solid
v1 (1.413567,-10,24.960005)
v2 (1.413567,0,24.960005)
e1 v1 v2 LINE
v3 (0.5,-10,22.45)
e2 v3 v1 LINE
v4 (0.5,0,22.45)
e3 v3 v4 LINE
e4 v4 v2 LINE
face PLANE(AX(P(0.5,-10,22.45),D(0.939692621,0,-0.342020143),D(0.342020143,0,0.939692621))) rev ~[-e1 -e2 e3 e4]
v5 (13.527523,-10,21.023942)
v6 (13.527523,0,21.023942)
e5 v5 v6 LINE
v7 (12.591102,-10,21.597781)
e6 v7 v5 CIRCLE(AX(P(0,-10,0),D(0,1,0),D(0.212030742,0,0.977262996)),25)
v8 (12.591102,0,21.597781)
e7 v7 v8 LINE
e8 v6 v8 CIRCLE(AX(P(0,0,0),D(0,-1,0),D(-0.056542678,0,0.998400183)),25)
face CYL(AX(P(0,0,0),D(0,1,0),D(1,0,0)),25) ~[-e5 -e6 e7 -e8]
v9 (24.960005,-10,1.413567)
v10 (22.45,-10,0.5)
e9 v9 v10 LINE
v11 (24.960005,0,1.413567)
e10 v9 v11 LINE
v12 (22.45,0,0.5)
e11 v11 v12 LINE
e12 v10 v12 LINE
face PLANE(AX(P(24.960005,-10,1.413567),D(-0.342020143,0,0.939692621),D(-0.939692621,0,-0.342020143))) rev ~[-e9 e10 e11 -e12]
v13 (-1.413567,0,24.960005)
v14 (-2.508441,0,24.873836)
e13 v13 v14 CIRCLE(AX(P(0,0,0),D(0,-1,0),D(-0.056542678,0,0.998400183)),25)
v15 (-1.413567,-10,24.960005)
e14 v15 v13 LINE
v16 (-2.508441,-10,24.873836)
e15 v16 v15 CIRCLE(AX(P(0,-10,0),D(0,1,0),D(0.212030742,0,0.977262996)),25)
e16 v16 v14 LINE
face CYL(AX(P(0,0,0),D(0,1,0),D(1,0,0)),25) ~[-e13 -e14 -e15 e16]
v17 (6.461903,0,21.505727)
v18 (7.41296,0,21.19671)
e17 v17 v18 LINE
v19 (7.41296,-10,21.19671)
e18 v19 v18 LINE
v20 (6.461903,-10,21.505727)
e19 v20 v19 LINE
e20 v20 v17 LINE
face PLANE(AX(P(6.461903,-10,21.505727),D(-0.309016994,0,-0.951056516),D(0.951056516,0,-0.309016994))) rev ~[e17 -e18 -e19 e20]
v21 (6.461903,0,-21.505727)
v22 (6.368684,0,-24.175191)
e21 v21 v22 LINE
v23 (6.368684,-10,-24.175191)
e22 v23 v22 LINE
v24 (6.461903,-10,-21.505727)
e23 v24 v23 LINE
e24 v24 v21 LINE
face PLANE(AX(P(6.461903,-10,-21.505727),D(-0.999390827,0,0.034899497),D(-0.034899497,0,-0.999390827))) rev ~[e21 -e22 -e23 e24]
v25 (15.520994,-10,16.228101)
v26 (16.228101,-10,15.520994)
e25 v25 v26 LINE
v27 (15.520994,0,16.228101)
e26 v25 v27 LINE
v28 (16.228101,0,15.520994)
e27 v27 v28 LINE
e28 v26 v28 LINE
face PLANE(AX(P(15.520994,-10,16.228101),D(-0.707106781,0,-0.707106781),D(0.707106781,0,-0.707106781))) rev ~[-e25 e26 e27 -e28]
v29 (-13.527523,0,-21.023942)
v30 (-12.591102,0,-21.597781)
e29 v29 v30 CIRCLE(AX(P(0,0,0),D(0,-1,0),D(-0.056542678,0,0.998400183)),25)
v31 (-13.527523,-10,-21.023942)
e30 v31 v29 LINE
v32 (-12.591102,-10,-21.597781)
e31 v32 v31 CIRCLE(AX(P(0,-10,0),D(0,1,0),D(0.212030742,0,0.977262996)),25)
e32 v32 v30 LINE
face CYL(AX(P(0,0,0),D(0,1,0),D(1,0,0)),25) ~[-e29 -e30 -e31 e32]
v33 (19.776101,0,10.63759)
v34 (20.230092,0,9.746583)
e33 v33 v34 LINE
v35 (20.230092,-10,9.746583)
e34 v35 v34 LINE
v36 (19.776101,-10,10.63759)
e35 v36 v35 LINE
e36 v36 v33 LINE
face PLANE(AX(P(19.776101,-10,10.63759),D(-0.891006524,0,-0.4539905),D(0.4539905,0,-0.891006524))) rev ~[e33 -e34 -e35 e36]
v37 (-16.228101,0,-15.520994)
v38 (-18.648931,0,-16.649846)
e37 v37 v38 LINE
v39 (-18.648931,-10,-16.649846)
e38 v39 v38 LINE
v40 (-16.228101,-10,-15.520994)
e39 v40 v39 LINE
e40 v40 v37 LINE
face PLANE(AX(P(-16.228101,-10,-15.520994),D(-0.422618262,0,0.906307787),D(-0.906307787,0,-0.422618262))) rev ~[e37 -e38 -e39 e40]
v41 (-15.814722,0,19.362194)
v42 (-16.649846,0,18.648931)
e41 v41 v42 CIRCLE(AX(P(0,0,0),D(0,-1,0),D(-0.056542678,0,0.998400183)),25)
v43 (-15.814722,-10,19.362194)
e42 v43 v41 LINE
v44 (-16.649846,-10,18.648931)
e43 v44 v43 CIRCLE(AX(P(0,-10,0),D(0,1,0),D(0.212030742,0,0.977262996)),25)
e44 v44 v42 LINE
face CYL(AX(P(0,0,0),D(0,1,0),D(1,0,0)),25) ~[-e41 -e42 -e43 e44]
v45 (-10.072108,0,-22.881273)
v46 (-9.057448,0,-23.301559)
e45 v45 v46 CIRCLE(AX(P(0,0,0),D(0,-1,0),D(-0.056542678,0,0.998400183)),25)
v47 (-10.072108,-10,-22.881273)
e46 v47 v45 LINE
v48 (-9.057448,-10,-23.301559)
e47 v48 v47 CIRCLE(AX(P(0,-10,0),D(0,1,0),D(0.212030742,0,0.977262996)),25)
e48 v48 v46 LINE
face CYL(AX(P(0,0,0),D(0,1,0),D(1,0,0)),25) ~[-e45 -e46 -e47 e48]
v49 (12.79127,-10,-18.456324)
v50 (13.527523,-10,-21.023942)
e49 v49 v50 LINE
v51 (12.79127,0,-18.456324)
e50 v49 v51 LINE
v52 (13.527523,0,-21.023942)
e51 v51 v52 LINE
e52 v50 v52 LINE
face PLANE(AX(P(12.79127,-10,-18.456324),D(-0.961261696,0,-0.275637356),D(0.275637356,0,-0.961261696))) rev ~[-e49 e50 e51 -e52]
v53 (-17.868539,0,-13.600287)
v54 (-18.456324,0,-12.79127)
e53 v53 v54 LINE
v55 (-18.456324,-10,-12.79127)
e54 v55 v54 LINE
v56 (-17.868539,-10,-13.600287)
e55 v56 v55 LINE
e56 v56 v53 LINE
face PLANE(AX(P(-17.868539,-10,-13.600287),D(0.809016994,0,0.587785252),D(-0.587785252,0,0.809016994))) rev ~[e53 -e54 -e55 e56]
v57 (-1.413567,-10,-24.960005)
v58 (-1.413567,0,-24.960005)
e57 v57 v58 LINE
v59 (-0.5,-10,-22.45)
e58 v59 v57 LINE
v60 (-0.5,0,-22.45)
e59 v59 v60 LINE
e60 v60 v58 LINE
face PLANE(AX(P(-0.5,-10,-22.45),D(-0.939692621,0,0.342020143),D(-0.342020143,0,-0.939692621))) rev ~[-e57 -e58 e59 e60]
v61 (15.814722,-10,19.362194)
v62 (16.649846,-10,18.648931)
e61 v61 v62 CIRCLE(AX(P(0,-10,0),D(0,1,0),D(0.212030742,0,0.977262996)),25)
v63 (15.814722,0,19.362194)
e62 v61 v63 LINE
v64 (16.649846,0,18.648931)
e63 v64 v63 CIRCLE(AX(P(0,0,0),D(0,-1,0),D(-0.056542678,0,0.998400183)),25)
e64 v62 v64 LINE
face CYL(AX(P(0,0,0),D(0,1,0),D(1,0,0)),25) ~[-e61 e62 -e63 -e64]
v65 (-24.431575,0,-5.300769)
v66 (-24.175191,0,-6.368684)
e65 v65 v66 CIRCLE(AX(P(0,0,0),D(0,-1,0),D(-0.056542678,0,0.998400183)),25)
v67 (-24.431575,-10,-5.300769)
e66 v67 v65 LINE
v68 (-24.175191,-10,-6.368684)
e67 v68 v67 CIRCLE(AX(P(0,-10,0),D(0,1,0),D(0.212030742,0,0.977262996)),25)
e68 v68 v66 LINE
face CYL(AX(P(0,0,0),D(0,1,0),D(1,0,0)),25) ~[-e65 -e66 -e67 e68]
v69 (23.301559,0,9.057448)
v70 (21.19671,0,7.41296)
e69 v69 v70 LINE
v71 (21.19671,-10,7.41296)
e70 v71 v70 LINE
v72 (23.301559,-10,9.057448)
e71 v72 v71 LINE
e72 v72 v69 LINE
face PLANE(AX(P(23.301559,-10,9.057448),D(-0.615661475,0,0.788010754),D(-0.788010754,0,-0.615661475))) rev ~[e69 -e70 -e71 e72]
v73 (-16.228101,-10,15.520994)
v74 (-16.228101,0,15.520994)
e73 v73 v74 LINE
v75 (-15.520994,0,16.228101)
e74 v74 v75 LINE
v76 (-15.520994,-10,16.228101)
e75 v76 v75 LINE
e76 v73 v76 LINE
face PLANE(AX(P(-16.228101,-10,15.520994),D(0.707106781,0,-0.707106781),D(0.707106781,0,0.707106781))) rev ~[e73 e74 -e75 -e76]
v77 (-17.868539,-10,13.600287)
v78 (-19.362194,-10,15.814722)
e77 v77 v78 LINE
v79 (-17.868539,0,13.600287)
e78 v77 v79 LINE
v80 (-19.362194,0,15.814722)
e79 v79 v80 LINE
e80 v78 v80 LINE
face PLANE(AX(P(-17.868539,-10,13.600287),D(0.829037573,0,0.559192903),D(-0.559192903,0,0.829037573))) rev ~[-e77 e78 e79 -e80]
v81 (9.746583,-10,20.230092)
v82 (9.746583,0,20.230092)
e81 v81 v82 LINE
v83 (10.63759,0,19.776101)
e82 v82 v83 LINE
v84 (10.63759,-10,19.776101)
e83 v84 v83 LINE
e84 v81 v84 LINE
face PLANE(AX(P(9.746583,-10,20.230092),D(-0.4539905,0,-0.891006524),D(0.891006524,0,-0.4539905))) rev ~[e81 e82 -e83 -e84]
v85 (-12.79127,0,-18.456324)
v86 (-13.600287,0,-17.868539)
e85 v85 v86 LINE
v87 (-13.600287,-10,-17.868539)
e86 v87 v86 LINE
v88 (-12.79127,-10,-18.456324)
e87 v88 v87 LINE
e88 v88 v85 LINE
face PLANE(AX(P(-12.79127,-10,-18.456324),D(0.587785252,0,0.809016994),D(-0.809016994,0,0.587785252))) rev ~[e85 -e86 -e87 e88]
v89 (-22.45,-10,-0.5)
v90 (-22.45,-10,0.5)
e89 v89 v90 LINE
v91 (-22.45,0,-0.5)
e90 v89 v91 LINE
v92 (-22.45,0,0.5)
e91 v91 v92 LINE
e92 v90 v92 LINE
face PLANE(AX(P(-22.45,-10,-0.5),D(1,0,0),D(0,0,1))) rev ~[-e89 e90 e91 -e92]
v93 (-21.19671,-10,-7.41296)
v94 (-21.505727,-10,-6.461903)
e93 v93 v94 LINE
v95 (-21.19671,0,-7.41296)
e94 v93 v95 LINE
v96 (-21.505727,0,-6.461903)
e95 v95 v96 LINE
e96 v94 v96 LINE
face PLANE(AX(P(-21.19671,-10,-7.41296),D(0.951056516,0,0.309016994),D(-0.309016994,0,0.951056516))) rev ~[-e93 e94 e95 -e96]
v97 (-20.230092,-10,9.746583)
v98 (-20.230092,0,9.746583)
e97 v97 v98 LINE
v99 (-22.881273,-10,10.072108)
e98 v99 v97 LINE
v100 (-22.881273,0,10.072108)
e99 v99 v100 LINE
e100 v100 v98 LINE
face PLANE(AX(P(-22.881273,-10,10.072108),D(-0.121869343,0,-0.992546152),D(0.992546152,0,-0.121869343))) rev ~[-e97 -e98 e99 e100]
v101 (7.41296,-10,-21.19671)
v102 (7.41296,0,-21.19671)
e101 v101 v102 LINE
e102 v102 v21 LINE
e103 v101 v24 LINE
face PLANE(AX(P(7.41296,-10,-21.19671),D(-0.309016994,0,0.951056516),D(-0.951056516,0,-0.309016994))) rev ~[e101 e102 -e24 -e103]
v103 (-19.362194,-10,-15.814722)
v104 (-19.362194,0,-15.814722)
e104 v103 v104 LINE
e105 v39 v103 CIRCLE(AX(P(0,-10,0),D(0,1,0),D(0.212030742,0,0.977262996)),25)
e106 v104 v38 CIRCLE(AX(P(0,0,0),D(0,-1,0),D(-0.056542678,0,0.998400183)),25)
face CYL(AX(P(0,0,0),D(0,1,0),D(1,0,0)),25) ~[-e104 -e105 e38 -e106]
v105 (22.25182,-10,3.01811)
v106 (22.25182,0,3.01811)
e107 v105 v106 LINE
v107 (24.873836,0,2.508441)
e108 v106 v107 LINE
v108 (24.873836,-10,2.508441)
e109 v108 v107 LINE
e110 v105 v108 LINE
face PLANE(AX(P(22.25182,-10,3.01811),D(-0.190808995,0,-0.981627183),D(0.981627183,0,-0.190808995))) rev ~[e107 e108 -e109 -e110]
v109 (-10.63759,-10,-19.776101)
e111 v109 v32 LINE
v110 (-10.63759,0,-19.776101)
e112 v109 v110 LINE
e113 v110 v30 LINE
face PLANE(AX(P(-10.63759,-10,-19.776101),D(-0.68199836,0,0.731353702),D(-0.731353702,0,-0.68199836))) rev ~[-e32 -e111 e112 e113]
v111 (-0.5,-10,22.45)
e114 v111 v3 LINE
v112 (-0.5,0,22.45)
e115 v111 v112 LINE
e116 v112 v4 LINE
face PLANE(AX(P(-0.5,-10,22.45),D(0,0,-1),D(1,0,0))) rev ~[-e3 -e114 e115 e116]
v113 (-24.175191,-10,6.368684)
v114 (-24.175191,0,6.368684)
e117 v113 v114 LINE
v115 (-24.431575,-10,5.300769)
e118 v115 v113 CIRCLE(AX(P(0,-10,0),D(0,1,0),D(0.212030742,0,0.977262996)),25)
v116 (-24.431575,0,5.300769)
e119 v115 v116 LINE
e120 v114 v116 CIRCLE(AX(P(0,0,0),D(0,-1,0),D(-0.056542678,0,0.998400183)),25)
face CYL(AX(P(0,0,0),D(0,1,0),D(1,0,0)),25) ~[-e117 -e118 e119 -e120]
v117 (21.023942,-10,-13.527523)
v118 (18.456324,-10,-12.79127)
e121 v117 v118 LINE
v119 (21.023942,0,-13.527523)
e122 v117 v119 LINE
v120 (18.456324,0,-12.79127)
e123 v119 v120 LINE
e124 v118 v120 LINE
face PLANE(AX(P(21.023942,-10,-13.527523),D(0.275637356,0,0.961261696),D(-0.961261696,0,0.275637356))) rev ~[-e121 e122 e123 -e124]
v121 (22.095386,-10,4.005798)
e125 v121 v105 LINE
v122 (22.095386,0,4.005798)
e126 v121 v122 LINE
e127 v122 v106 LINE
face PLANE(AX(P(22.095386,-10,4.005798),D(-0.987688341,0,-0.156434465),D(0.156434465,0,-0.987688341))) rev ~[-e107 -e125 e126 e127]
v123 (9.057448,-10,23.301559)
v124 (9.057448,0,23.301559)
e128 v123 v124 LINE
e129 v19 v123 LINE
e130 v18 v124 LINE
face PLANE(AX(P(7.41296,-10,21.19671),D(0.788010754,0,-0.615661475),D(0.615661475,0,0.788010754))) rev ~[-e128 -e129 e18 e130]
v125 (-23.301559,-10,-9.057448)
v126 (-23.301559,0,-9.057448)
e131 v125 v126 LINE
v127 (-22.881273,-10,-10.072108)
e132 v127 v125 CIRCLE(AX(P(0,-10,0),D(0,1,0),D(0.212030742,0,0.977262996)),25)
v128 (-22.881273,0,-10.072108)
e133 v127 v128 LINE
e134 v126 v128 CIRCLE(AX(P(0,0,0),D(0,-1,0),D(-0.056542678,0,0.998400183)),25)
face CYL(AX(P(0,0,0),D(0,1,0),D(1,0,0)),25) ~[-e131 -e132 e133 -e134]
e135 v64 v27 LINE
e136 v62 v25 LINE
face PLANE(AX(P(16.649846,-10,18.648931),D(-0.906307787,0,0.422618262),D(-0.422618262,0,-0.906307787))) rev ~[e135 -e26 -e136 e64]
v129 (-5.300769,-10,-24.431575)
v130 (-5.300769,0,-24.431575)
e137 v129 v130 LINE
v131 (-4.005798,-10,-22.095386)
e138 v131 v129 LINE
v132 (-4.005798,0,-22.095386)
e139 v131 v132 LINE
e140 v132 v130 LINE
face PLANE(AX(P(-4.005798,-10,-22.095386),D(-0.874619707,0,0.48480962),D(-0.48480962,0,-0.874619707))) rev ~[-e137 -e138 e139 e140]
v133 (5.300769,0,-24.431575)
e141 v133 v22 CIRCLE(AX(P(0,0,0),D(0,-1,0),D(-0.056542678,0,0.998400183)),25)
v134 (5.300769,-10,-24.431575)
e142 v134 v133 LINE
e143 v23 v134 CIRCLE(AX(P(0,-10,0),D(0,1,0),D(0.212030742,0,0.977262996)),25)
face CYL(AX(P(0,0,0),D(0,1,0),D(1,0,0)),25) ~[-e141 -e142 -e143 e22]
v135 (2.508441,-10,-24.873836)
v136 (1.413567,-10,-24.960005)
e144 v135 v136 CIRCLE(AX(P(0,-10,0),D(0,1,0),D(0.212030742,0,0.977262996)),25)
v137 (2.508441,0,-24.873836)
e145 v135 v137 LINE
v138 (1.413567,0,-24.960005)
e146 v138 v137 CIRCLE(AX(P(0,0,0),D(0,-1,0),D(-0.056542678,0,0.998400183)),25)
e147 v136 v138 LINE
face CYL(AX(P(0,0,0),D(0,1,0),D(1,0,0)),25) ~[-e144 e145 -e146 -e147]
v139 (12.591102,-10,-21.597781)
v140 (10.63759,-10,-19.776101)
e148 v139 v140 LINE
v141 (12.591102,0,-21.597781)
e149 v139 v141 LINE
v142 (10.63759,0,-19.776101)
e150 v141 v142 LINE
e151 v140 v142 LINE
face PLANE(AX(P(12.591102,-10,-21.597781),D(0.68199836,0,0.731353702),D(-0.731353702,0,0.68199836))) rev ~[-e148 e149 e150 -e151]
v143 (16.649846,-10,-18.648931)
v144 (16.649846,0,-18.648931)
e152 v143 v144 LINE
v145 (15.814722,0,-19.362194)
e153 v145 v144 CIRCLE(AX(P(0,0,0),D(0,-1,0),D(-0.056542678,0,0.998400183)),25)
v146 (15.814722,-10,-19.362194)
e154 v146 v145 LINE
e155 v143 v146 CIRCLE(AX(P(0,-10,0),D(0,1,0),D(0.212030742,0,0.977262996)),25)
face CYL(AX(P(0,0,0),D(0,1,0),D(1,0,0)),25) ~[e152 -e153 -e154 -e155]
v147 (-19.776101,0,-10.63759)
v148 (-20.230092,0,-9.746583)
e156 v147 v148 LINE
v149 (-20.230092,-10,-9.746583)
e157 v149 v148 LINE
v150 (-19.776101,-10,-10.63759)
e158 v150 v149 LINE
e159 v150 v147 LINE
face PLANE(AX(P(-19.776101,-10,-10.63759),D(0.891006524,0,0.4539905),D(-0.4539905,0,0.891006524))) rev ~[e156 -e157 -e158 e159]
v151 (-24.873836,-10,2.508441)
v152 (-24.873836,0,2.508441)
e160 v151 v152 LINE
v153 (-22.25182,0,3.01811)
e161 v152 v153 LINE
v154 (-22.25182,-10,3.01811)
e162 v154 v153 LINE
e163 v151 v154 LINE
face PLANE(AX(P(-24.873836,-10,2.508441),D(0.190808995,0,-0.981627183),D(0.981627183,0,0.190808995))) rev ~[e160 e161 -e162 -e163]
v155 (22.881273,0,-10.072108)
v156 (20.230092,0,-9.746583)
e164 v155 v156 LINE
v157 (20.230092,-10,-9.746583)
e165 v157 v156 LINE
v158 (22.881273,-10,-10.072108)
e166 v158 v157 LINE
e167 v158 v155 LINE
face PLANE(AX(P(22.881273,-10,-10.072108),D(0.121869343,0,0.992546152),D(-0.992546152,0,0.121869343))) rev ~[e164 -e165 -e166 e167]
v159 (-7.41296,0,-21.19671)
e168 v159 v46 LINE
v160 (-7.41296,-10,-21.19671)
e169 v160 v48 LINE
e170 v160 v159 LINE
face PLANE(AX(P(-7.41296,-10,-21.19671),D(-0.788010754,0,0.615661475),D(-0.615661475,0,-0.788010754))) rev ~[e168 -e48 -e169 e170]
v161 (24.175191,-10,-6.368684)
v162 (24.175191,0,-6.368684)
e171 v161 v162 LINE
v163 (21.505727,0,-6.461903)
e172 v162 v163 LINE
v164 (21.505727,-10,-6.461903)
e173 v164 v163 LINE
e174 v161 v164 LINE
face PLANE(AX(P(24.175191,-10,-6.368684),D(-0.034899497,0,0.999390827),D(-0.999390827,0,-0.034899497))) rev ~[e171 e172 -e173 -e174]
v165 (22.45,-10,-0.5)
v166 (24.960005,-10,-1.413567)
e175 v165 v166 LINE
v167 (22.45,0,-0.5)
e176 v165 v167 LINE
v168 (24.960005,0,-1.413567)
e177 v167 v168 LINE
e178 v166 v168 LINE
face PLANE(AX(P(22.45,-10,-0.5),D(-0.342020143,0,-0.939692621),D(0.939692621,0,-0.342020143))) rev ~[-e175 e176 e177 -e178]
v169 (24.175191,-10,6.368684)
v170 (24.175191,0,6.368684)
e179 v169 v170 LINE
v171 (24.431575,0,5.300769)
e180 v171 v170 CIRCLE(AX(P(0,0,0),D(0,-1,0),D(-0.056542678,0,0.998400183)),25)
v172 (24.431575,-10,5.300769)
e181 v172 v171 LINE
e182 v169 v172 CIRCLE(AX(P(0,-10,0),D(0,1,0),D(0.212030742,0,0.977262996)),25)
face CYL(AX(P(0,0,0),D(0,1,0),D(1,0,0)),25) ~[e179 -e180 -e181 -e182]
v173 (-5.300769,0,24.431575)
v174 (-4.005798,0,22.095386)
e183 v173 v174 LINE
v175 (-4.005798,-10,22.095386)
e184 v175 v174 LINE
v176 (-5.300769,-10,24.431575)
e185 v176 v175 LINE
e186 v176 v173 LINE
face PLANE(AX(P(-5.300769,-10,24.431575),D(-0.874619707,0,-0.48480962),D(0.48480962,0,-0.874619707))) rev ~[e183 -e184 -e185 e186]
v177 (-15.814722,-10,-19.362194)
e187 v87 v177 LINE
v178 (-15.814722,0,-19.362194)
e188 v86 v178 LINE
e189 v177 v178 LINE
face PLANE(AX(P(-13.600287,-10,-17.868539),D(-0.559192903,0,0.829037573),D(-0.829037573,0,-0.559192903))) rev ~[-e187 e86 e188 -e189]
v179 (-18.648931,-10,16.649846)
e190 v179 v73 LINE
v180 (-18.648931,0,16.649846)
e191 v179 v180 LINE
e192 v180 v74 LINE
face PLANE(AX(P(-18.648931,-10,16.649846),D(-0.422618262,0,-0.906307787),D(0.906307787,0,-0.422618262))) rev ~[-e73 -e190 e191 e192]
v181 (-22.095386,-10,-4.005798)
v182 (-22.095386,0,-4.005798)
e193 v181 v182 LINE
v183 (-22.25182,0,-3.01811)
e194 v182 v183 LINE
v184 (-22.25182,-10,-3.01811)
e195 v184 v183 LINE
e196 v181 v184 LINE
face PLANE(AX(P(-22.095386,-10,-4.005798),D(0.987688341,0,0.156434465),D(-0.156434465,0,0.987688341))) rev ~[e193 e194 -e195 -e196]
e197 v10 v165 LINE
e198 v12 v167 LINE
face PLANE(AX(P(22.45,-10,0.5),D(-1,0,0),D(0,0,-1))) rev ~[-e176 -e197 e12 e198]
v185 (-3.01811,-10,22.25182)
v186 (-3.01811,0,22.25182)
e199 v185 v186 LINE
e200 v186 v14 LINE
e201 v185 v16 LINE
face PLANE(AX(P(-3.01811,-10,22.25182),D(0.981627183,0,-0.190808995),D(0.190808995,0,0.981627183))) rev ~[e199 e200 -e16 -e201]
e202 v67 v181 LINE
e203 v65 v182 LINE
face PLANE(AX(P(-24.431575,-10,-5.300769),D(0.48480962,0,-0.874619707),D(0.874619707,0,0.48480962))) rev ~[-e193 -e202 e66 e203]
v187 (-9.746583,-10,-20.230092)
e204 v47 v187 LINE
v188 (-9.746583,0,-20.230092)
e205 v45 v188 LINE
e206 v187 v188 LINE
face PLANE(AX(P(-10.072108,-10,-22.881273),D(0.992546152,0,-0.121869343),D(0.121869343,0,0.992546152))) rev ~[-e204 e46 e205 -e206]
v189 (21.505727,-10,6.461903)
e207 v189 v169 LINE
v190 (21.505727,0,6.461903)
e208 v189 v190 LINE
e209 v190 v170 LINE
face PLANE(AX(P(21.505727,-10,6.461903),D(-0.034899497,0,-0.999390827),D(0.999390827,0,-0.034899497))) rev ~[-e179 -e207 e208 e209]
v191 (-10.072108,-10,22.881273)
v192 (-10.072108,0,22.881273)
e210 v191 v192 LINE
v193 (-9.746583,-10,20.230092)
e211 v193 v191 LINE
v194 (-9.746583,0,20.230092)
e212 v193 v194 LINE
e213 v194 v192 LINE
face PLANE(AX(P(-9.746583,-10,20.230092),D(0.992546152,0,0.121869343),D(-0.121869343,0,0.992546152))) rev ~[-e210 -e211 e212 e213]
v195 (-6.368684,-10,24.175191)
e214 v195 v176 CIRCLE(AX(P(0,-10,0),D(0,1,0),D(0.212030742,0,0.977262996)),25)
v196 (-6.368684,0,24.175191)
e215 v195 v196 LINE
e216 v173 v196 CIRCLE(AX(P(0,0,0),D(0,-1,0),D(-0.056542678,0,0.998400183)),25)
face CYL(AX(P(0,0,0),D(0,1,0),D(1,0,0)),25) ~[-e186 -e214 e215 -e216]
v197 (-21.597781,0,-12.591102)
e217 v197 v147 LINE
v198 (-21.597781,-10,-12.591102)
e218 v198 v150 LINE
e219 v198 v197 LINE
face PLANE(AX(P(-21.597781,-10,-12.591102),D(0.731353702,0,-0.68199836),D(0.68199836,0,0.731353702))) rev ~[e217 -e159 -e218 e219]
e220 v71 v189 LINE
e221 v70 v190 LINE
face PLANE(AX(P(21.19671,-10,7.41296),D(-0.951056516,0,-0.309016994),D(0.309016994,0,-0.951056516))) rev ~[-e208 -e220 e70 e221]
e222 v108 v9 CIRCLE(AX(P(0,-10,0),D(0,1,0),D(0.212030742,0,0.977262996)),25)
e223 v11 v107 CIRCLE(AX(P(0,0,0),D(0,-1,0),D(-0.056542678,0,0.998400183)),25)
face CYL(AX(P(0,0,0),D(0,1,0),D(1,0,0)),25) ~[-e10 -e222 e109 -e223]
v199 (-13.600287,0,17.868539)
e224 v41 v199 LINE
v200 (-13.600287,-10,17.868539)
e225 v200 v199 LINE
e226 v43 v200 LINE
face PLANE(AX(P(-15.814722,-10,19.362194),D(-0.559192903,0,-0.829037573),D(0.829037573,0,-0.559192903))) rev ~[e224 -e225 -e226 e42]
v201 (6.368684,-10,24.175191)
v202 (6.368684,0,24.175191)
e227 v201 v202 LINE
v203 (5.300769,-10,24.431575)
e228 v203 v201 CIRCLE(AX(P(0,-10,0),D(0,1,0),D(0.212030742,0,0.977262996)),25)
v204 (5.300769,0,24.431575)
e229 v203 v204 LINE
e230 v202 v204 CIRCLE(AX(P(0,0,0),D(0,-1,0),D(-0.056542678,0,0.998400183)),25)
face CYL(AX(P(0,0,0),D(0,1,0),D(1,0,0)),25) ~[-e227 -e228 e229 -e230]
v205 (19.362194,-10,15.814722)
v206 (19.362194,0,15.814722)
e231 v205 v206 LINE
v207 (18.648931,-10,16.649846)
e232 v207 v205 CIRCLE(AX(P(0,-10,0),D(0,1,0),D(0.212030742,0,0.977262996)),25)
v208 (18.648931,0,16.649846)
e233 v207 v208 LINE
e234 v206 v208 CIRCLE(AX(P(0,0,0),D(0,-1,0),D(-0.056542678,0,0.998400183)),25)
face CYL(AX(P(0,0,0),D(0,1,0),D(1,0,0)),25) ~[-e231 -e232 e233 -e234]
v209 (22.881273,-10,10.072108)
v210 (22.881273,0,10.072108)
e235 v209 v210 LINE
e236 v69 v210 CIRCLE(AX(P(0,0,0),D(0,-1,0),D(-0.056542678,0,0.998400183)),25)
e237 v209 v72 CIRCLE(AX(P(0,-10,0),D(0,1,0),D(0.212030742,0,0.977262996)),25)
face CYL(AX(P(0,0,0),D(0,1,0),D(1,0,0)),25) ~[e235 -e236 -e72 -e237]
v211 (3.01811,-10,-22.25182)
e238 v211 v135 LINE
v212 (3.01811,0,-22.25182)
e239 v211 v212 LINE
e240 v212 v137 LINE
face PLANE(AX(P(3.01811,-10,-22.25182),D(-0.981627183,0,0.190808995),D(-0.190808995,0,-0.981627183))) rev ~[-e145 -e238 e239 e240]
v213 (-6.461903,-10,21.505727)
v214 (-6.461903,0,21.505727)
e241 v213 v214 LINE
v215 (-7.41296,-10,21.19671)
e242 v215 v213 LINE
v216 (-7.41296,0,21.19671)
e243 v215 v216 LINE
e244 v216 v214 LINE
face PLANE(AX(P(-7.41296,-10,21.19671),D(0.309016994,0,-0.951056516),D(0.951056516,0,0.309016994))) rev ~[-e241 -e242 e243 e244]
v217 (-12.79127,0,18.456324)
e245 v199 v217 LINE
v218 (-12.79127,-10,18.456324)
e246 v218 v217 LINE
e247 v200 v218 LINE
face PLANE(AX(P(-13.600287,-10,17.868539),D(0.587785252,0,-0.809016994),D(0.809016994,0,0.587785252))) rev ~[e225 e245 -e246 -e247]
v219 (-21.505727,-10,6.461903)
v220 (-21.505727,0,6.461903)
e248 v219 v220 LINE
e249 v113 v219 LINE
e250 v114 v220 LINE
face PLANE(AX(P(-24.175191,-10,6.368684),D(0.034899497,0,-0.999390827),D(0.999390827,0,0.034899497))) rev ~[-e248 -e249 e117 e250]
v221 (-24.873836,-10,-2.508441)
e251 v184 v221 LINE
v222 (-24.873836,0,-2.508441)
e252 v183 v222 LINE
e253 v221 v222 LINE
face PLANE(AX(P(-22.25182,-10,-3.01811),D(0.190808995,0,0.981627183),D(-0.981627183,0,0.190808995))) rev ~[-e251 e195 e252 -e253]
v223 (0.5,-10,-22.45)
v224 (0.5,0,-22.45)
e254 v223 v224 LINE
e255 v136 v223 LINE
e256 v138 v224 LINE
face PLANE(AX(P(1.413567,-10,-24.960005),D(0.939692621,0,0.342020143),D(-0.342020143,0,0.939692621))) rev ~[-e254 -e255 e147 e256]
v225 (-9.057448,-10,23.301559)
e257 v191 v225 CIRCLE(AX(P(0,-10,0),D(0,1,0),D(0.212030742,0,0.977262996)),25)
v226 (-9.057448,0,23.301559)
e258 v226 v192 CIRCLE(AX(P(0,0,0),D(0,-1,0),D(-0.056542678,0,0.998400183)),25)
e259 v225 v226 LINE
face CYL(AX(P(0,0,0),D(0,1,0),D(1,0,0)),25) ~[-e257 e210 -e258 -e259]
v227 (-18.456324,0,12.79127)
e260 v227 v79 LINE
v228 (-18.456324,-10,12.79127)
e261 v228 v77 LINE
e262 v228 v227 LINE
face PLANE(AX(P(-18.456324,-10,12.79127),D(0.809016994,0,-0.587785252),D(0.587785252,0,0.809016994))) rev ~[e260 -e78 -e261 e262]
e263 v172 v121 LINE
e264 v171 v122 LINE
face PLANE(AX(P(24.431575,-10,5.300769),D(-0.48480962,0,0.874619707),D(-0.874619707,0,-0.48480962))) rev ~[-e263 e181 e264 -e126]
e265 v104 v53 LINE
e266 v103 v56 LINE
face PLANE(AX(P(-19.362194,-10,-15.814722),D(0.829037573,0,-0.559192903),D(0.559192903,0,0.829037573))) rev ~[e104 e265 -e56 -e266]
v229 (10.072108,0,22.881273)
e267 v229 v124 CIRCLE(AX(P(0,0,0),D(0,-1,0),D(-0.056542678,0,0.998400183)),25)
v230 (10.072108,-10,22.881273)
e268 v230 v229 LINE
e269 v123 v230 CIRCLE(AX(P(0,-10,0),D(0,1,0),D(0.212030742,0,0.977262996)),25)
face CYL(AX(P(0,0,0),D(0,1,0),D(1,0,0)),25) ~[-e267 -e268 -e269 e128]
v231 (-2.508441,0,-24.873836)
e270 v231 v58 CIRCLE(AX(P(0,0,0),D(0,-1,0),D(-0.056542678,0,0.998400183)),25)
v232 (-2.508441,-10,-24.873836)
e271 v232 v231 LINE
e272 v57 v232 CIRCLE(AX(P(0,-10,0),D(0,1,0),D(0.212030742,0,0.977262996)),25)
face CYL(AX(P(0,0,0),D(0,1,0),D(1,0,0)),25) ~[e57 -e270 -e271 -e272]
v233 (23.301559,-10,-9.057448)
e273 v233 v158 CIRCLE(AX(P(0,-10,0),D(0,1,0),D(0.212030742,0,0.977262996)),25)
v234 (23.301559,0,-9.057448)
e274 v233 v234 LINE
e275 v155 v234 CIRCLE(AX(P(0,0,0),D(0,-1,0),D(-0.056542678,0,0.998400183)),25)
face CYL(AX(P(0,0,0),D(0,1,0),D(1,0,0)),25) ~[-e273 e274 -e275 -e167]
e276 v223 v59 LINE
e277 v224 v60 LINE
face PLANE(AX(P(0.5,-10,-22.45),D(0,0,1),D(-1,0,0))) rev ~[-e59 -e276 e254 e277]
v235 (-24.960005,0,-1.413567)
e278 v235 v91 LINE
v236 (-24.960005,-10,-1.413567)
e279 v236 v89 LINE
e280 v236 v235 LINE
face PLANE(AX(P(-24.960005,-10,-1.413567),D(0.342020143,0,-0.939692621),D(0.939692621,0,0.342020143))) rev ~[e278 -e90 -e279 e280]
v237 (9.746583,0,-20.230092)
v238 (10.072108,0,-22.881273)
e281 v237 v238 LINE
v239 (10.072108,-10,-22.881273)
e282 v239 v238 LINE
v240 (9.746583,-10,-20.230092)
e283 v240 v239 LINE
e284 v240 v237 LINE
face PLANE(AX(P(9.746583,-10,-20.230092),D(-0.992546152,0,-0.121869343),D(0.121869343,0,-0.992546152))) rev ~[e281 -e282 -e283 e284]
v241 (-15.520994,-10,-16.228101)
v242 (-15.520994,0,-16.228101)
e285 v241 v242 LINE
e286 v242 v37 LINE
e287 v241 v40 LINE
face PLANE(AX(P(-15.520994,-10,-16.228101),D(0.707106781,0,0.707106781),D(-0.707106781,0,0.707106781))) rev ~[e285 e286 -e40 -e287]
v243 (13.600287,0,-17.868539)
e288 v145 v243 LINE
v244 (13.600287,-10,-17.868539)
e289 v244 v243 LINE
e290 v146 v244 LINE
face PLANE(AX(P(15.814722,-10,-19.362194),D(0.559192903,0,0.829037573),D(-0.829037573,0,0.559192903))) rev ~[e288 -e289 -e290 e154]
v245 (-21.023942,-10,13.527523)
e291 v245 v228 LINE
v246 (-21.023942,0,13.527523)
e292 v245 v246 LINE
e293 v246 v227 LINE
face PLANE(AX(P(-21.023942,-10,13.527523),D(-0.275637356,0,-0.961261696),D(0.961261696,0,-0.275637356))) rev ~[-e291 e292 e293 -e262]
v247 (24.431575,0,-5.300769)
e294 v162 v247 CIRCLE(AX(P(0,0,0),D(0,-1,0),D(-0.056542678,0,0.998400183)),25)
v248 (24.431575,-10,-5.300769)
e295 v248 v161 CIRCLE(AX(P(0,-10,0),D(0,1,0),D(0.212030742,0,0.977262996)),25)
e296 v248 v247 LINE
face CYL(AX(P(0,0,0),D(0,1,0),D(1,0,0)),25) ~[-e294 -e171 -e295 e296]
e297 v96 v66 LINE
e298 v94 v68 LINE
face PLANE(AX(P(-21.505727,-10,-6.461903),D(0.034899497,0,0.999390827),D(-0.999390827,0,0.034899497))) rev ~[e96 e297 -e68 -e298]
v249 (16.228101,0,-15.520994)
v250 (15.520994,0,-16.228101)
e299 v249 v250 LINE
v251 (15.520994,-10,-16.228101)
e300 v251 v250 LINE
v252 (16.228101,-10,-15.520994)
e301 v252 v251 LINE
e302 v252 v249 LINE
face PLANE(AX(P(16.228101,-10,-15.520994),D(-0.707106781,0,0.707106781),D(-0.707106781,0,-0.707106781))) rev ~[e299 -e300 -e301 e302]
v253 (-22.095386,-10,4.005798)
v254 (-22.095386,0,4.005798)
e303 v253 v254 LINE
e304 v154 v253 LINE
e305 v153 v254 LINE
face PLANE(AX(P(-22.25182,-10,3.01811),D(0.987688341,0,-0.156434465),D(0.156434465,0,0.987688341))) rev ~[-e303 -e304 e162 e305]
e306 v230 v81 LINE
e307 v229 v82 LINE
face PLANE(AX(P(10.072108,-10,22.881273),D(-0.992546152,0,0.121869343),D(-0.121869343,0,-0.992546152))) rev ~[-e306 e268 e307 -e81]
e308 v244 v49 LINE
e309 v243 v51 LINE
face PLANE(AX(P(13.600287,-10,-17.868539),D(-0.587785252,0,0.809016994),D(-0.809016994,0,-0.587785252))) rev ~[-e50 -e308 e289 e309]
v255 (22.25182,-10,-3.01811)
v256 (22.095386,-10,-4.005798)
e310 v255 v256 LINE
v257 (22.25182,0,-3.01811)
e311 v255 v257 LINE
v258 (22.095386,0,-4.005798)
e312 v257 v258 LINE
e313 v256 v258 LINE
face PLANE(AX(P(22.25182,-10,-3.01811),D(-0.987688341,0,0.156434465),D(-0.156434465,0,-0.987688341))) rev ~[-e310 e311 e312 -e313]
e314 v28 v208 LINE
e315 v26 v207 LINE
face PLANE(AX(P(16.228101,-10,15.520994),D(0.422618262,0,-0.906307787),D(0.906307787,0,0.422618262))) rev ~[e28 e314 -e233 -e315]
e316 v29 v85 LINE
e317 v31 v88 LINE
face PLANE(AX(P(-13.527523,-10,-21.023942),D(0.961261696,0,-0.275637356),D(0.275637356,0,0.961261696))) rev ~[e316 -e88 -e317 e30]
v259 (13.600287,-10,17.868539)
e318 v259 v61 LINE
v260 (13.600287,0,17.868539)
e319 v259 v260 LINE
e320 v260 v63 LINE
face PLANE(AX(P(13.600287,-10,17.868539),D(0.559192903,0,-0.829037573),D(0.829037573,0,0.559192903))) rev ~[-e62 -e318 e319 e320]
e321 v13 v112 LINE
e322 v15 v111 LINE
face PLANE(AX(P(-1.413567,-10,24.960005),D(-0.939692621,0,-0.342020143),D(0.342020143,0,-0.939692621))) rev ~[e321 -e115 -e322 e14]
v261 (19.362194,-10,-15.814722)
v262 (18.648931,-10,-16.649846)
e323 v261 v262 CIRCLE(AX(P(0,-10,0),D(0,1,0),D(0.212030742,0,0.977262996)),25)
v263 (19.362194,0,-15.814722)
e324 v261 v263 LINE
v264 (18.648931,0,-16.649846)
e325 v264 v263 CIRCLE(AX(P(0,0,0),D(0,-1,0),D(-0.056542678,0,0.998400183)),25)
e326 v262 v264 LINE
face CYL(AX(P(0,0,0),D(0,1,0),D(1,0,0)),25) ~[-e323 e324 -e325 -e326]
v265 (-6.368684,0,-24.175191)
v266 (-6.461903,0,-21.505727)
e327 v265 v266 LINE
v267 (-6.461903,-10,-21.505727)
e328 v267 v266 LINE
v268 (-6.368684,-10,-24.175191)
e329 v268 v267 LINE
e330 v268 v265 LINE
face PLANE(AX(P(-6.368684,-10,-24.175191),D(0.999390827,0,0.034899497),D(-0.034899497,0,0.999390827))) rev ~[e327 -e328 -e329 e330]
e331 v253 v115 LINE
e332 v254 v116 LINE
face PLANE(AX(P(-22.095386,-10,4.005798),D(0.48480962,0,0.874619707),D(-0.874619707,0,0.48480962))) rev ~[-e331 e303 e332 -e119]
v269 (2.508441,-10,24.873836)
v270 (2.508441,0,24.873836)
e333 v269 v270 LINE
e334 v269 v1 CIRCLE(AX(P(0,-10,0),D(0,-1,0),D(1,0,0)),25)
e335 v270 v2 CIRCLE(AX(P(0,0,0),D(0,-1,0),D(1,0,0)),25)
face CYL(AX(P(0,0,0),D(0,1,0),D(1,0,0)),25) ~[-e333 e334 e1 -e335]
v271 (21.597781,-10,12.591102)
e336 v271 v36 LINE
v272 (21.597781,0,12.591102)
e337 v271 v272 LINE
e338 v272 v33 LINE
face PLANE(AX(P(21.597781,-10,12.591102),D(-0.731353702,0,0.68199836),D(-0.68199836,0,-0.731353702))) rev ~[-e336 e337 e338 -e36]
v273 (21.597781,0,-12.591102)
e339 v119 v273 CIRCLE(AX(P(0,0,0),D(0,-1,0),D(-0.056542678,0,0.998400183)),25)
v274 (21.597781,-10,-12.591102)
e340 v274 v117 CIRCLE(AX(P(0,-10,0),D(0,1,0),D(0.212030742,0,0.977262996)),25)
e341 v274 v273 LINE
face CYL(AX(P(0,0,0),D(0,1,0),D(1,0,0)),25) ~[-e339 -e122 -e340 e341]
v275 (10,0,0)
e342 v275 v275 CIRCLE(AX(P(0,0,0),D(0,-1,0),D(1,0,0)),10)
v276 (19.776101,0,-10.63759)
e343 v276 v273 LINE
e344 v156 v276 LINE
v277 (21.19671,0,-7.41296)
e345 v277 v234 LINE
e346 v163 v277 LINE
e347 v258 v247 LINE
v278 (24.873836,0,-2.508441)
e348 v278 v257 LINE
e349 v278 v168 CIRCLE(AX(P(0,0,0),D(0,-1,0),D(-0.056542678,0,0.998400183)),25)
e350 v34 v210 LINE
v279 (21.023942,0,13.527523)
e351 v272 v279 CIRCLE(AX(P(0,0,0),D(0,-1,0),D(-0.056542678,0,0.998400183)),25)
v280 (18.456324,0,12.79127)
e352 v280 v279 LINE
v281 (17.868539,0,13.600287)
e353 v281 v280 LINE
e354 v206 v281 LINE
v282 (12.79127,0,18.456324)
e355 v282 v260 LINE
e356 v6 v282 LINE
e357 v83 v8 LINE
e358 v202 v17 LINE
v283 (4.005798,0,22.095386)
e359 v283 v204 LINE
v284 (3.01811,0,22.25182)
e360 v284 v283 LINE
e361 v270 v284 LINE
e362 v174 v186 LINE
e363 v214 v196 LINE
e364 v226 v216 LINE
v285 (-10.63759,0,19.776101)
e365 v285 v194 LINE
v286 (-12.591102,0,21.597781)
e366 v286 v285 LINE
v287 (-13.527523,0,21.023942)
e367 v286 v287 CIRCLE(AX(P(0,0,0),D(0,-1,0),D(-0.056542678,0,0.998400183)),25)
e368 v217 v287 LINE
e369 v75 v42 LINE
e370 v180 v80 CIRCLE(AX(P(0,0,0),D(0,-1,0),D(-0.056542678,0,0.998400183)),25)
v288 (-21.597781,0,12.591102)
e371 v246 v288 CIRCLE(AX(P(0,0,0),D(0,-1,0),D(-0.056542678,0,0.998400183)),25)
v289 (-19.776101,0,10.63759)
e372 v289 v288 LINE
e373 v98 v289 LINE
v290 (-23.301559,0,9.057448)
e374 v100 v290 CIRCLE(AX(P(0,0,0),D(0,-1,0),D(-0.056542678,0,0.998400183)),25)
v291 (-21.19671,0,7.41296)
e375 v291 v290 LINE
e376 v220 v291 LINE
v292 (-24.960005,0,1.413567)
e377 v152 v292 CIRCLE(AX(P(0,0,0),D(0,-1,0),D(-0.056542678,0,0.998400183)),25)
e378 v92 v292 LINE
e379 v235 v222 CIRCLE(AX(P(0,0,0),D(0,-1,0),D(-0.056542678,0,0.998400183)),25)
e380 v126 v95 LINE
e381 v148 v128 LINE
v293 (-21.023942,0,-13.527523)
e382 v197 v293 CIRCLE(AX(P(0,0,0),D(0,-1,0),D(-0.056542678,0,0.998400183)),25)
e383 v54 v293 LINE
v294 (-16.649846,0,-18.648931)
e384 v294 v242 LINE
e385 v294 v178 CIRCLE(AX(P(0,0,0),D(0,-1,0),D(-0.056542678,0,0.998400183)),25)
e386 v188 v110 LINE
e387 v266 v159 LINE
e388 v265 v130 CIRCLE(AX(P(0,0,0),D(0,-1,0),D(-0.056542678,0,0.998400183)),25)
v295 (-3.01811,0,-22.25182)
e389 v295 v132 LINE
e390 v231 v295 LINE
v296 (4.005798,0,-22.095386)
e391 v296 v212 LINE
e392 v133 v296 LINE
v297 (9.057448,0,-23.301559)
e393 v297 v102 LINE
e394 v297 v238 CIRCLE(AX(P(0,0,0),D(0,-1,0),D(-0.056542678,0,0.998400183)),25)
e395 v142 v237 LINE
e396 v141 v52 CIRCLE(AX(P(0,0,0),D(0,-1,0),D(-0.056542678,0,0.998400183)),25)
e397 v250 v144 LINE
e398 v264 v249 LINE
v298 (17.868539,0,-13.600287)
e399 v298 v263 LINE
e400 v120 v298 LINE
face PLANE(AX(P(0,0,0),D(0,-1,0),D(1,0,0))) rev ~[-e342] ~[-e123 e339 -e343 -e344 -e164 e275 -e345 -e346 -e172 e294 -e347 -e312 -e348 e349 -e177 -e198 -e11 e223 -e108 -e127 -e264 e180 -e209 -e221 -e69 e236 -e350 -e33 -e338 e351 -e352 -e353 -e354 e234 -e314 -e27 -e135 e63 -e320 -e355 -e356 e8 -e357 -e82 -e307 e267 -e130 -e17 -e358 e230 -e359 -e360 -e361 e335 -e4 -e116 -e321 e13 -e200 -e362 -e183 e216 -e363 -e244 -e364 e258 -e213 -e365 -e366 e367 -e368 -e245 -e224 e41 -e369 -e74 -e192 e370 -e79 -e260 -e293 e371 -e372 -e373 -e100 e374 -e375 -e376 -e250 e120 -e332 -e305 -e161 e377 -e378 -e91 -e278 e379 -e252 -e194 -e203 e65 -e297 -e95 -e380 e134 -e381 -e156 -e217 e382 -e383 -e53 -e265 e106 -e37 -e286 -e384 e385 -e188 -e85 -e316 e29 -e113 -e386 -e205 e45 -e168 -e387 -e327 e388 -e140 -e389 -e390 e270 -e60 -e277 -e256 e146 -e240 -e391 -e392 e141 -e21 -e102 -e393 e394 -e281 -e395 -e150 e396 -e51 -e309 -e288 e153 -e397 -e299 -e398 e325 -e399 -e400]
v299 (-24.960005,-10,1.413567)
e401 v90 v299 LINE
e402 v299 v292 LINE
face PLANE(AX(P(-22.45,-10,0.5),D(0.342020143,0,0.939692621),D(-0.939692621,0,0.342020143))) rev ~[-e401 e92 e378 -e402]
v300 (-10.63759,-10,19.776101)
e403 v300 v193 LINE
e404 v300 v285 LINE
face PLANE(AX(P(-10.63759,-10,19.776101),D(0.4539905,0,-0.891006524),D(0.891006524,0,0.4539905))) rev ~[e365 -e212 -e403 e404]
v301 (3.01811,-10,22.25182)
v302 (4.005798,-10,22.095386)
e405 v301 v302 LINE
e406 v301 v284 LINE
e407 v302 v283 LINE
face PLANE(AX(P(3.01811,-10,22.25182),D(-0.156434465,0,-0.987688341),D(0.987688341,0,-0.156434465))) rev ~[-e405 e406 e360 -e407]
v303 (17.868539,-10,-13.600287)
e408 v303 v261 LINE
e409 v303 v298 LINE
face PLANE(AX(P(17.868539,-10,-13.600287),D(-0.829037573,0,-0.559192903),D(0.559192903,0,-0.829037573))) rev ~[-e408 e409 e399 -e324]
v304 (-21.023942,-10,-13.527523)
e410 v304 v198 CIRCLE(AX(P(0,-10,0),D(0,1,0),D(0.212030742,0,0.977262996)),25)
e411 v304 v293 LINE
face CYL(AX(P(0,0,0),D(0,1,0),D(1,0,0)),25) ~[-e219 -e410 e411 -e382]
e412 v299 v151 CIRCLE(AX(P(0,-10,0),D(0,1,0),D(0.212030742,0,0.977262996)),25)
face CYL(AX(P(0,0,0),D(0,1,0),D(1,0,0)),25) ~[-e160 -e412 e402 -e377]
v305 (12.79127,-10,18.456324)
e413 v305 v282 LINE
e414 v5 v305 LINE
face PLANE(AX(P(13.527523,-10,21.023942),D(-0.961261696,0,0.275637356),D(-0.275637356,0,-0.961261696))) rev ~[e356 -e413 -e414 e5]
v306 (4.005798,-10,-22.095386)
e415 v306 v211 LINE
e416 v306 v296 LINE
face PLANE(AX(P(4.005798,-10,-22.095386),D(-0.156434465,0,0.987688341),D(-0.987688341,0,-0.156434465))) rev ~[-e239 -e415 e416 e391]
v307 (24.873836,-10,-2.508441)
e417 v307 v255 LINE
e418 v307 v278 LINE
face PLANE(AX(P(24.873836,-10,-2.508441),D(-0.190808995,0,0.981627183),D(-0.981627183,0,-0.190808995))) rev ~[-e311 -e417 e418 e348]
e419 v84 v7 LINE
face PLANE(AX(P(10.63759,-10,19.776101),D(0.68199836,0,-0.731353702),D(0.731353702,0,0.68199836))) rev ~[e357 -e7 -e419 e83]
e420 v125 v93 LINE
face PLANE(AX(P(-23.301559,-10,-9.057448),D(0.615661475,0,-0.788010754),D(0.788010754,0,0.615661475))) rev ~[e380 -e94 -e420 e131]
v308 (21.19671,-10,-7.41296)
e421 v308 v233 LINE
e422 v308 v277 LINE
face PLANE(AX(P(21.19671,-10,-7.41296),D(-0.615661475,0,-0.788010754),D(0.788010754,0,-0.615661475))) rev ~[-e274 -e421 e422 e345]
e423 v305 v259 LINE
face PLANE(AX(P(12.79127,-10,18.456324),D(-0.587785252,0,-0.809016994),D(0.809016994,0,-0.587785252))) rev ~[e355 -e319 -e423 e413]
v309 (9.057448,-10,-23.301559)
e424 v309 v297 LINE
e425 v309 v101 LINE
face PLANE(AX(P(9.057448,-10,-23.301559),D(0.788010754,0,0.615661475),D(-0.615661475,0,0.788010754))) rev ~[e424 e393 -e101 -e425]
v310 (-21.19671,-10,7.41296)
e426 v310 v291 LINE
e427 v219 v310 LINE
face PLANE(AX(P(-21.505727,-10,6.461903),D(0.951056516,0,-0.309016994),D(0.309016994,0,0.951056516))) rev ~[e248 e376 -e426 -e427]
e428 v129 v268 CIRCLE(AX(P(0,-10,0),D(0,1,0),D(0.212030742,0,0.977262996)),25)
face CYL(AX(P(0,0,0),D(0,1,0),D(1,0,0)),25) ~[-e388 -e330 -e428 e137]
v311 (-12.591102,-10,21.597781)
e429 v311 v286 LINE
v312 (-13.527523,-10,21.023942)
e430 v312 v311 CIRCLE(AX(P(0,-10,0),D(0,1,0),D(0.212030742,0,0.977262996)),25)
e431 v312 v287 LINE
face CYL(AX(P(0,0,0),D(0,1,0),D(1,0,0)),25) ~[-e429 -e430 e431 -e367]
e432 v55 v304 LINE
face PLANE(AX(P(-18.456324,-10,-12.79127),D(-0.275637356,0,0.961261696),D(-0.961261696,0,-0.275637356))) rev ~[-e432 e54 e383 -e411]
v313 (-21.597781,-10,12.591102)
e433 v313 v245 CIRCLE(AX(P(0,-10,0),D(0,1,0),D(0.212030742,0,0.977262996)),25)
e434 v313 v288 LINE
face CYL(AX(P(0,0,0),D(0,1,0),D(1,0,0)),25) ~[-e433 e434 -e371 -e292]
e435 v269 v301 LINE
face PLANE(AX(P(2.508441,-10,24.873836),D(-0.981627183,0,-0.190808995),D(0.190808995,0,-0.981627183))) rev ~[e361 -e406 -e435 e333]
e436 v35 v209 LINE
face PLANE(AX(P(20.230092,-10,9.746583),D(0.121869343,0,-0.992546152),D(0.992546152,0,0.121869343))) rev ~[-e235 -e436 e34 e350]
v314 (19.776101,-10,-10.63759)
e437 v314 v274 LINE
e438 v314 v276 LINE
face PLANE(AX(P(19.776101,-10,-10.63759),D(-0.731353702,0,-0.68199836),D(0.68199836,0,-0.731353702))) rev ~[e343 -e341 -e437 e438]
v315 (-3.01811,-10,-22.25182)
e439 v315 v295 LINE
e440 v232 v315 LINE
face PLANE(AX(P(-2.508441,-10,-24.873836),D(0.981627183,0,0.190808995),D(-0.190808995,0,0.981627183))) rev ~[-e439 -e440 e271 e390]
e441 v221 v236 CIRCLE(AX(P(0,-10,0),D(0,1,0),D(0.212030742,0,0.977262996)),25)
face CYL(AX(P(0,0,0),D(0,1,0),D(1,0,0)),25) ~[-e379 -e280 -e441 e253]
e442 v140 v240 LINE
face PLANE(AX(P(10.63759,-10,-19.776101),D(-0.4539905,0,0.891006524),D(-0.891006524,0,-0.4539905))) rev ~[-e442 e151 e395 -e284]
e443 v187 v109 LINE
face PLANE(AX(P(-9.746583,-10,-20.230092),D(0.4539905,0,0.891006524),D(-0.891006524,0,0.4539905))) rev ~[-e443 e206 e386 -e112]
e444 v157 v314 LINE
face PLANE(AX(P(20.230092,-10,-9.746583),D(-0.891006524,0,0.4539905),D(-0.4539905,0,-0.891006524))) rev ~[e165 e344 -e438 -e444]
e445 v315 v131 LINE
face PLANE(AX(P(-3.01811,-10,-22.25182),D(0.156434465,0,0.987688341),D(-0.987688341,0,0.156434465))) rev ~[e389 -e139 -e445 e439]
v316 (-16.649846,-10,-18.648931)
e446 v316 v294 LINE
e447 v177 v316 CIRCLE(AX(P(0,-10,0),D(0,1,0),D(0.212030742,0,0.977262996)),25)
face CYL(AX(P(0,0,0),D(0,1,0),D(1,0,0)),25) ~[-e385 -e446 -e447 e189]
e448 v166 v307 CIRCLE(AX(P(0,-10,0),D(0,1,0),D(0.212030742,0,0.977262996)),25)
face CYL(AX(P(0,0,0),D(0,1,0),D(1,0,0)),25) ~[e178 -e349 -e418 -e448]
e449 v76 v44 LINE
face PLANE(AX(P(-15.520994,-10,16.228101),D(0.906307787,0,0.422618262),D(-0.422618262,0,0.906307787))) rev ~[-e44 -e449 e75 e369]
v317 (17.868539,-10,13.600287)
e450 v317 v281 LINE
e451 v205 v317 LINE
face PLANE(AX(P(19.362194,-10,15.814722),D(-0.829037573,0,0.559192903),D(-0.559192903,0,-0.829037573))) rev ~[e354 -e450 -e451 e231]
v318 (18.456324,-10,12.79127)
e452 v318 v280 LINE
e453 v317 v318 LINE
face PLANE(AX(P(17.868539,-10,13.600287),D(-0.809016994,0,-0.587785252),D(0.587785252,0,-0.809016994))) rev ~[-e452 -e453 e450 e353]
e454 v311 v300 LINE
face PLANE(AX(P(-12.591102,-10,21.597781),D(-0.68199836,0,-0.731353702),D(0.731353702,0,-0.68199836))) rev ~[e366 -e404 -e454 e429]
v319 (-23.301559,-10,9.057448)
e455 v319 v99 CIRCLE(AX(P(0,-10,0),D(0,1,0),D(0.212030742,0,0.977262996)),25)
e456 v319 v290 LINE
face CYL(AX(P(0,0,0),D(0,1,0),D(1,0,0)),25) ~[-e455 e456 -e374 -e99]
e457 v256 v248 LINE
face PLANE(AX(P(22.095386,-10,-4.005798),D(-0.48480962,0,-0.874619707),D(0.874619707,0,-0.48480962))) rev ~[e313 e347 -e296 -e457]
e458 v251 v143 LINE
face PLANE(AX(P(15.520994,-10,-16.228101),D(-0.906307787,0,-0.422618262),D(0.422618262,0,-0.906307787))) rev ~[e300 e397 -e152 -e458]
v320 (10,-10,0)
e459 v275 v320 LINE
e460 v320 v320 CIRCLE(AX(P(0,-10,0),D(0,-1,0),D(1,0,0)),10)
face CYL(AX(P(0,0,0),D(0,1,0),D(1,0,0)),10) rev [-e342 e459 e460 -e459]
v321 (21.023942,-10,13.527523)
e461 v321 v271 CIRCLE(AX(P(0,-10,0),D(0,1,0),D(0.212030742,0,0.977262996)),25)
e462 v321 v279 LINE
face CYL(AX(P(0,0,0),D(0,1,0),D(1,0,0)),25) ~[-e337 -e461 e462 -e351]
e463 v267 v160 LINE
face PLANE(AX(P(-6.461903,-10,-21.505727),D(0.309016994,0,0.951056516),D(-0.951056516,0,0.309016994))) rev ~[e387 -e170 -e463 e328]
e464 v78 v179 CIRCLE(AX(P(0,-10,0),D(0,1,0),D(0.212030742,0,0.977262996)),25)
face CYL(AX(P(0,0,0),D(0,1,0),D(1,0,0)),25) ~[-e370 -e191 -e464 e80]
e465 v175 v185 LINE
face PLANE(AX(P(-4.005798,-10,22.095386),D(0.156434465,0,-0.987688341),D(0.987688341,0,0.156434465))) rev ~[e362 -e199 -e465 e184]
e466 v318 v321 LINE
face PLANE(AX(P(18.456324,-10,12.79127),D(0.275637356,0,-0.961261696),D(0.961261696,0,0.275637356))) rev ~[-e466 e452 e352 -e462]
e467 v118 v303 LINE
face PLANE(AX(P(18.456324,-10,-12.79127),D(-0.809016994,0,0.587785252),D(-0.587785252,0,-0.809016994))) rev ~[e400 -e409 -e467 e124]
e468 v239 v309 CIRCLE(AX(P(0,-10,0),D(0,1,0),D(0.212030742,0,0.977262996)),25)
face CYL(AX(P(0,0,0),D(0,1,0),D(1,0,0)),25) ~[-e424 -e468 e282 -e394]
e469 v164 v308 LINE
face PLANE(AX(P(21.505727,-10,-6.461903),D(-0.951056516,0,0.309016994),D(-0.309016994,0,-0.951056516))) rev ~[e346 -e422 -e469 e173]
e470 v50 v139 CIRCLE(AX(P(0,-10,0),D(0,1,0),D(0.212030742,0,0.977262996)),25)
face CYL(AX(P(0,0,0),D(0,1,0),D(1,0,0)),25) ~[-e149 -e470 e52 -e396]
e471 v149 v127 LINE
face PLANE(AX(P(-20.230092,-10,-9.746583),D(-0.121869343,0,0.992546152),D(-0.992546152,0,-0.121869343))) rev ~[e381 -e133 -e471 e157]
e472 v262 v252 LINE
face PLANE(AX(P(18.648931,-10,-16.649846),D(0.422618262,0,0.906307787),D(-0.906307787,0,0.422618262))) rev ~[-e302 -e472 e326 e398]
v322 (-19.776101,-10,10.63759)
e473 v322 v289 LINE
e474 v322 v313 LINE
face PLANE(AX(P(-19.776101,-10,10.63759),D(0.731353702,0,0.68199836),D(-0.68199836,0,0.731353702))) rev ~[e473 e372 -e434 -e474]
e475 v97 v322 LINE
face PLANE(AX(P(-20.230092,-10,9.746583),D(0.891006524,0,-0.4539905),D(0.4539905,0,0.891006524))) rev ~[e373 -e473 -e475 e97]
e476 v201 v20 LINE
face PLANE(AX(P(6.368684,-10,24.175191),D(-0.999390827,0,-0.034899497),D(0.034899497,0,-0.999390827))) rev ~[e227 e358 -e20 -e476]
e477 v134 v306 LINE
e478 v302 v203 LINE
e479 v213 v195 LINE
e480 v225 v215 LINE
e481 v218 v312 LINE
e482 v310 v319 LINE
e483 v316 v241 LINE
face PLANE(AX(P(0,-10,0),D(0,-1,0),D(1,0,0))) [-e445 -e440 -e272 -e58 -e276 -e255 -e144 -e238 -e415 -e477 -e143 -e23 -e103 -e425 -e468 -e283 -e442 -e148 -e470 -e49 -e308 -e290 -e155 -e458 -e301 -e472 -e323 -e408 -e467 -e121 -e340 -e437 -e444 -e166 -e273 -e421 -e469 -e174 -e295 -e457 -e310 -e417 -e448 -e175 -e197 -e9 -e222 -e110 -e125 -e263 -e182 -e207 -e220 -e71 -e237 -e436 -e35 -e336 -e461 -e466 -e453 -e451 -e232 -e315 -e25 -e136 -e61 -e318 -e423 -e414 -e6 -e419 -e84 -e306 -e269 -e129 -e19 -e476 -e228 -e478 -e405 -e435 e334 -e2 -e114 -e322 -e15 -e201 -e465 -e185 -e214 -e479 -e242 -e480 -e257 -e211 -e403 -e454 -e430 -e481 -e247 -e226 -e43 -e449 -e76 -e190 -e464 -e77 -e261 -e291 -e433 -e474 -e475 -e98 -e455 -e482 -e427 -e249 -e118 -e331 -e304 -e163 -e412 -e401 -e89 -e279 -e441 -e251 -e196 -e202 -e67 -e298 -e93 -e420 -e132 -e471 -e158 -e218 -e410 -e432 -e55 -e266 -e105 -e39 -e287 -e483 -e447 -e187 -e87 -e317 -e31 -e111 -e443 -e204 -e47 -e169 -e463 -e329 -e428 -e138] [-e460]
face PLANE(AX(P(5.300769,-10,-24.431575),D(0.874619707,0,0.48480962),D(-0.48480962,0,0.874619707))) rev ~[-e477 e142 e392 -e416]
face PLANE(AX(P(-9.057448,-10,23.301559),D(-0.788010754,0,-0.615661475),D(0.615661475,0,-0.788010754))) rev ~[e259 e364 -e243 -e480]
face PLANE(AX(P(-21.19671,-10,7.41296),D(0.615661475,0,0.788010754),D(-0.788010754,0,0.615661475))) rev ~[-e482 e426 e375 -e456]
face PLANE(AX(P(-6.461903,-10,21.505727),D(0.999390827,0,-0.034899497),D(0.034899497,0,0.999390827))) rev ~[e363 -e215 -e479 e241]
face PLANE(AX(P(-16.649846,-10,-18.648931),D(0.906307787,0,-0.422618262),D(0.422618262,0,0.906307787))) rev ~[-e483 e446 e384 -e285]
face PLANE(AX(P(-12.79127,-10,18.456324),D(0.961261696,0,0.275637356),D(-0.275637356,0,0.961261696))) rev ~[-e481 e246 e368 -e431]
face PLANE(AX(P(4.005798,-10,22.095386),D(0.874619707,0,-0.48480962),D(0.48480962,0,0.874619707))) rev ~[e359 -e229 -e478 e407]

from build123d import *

# Parameters (mm, degrees)
F0_R     = 25
F0_R_2   = 10
F1_DEPTH = 10
F3_DEPTH = 25
F4_COUNT = 40


with BuildPart() as f1:
    # F0 (on Front) → F1 (new body)
    with BuildSketch(Plane.XZ):
        Circle(F0_R)
        Circle(F0_R_2, mode=Mode.SUBTRACT)
    extrude(amount=F1_DEPTH)

    # F2 (on face) → F3 (cut)
    with BuildSketch(Plane.XZ.offset(10)):
        with BuildLine():
            Line((-0.5, 22.45), (0, 22.45))
            Line((0, 22.45), (0.5, 22.45))
            Line((0.5, 22.45), (1.4135669538, 24.9600045767))
            ThreePointArc((1.4135669538, 24.9600045767), (0, 25), (-1.4135669538, 24.9600045767))
            Line((-1.4135669538, 24.9600045767), (-0.5, 22.45))
        make_face()
    f3 = extrude(amount=-F3_DEPTH, mode=Mode.SUBTRACT)

    # F4: F3 ×40 about axis
    f4_axis = Axis((0, 0, 0), (0, 1, 0))
    for i in range(1, F4_COUNT):
        add(f3.rotate(f4_axis, i * 360 / F4_COUNT), mode=Mode.SUBTRACT)


solid = f1.part
